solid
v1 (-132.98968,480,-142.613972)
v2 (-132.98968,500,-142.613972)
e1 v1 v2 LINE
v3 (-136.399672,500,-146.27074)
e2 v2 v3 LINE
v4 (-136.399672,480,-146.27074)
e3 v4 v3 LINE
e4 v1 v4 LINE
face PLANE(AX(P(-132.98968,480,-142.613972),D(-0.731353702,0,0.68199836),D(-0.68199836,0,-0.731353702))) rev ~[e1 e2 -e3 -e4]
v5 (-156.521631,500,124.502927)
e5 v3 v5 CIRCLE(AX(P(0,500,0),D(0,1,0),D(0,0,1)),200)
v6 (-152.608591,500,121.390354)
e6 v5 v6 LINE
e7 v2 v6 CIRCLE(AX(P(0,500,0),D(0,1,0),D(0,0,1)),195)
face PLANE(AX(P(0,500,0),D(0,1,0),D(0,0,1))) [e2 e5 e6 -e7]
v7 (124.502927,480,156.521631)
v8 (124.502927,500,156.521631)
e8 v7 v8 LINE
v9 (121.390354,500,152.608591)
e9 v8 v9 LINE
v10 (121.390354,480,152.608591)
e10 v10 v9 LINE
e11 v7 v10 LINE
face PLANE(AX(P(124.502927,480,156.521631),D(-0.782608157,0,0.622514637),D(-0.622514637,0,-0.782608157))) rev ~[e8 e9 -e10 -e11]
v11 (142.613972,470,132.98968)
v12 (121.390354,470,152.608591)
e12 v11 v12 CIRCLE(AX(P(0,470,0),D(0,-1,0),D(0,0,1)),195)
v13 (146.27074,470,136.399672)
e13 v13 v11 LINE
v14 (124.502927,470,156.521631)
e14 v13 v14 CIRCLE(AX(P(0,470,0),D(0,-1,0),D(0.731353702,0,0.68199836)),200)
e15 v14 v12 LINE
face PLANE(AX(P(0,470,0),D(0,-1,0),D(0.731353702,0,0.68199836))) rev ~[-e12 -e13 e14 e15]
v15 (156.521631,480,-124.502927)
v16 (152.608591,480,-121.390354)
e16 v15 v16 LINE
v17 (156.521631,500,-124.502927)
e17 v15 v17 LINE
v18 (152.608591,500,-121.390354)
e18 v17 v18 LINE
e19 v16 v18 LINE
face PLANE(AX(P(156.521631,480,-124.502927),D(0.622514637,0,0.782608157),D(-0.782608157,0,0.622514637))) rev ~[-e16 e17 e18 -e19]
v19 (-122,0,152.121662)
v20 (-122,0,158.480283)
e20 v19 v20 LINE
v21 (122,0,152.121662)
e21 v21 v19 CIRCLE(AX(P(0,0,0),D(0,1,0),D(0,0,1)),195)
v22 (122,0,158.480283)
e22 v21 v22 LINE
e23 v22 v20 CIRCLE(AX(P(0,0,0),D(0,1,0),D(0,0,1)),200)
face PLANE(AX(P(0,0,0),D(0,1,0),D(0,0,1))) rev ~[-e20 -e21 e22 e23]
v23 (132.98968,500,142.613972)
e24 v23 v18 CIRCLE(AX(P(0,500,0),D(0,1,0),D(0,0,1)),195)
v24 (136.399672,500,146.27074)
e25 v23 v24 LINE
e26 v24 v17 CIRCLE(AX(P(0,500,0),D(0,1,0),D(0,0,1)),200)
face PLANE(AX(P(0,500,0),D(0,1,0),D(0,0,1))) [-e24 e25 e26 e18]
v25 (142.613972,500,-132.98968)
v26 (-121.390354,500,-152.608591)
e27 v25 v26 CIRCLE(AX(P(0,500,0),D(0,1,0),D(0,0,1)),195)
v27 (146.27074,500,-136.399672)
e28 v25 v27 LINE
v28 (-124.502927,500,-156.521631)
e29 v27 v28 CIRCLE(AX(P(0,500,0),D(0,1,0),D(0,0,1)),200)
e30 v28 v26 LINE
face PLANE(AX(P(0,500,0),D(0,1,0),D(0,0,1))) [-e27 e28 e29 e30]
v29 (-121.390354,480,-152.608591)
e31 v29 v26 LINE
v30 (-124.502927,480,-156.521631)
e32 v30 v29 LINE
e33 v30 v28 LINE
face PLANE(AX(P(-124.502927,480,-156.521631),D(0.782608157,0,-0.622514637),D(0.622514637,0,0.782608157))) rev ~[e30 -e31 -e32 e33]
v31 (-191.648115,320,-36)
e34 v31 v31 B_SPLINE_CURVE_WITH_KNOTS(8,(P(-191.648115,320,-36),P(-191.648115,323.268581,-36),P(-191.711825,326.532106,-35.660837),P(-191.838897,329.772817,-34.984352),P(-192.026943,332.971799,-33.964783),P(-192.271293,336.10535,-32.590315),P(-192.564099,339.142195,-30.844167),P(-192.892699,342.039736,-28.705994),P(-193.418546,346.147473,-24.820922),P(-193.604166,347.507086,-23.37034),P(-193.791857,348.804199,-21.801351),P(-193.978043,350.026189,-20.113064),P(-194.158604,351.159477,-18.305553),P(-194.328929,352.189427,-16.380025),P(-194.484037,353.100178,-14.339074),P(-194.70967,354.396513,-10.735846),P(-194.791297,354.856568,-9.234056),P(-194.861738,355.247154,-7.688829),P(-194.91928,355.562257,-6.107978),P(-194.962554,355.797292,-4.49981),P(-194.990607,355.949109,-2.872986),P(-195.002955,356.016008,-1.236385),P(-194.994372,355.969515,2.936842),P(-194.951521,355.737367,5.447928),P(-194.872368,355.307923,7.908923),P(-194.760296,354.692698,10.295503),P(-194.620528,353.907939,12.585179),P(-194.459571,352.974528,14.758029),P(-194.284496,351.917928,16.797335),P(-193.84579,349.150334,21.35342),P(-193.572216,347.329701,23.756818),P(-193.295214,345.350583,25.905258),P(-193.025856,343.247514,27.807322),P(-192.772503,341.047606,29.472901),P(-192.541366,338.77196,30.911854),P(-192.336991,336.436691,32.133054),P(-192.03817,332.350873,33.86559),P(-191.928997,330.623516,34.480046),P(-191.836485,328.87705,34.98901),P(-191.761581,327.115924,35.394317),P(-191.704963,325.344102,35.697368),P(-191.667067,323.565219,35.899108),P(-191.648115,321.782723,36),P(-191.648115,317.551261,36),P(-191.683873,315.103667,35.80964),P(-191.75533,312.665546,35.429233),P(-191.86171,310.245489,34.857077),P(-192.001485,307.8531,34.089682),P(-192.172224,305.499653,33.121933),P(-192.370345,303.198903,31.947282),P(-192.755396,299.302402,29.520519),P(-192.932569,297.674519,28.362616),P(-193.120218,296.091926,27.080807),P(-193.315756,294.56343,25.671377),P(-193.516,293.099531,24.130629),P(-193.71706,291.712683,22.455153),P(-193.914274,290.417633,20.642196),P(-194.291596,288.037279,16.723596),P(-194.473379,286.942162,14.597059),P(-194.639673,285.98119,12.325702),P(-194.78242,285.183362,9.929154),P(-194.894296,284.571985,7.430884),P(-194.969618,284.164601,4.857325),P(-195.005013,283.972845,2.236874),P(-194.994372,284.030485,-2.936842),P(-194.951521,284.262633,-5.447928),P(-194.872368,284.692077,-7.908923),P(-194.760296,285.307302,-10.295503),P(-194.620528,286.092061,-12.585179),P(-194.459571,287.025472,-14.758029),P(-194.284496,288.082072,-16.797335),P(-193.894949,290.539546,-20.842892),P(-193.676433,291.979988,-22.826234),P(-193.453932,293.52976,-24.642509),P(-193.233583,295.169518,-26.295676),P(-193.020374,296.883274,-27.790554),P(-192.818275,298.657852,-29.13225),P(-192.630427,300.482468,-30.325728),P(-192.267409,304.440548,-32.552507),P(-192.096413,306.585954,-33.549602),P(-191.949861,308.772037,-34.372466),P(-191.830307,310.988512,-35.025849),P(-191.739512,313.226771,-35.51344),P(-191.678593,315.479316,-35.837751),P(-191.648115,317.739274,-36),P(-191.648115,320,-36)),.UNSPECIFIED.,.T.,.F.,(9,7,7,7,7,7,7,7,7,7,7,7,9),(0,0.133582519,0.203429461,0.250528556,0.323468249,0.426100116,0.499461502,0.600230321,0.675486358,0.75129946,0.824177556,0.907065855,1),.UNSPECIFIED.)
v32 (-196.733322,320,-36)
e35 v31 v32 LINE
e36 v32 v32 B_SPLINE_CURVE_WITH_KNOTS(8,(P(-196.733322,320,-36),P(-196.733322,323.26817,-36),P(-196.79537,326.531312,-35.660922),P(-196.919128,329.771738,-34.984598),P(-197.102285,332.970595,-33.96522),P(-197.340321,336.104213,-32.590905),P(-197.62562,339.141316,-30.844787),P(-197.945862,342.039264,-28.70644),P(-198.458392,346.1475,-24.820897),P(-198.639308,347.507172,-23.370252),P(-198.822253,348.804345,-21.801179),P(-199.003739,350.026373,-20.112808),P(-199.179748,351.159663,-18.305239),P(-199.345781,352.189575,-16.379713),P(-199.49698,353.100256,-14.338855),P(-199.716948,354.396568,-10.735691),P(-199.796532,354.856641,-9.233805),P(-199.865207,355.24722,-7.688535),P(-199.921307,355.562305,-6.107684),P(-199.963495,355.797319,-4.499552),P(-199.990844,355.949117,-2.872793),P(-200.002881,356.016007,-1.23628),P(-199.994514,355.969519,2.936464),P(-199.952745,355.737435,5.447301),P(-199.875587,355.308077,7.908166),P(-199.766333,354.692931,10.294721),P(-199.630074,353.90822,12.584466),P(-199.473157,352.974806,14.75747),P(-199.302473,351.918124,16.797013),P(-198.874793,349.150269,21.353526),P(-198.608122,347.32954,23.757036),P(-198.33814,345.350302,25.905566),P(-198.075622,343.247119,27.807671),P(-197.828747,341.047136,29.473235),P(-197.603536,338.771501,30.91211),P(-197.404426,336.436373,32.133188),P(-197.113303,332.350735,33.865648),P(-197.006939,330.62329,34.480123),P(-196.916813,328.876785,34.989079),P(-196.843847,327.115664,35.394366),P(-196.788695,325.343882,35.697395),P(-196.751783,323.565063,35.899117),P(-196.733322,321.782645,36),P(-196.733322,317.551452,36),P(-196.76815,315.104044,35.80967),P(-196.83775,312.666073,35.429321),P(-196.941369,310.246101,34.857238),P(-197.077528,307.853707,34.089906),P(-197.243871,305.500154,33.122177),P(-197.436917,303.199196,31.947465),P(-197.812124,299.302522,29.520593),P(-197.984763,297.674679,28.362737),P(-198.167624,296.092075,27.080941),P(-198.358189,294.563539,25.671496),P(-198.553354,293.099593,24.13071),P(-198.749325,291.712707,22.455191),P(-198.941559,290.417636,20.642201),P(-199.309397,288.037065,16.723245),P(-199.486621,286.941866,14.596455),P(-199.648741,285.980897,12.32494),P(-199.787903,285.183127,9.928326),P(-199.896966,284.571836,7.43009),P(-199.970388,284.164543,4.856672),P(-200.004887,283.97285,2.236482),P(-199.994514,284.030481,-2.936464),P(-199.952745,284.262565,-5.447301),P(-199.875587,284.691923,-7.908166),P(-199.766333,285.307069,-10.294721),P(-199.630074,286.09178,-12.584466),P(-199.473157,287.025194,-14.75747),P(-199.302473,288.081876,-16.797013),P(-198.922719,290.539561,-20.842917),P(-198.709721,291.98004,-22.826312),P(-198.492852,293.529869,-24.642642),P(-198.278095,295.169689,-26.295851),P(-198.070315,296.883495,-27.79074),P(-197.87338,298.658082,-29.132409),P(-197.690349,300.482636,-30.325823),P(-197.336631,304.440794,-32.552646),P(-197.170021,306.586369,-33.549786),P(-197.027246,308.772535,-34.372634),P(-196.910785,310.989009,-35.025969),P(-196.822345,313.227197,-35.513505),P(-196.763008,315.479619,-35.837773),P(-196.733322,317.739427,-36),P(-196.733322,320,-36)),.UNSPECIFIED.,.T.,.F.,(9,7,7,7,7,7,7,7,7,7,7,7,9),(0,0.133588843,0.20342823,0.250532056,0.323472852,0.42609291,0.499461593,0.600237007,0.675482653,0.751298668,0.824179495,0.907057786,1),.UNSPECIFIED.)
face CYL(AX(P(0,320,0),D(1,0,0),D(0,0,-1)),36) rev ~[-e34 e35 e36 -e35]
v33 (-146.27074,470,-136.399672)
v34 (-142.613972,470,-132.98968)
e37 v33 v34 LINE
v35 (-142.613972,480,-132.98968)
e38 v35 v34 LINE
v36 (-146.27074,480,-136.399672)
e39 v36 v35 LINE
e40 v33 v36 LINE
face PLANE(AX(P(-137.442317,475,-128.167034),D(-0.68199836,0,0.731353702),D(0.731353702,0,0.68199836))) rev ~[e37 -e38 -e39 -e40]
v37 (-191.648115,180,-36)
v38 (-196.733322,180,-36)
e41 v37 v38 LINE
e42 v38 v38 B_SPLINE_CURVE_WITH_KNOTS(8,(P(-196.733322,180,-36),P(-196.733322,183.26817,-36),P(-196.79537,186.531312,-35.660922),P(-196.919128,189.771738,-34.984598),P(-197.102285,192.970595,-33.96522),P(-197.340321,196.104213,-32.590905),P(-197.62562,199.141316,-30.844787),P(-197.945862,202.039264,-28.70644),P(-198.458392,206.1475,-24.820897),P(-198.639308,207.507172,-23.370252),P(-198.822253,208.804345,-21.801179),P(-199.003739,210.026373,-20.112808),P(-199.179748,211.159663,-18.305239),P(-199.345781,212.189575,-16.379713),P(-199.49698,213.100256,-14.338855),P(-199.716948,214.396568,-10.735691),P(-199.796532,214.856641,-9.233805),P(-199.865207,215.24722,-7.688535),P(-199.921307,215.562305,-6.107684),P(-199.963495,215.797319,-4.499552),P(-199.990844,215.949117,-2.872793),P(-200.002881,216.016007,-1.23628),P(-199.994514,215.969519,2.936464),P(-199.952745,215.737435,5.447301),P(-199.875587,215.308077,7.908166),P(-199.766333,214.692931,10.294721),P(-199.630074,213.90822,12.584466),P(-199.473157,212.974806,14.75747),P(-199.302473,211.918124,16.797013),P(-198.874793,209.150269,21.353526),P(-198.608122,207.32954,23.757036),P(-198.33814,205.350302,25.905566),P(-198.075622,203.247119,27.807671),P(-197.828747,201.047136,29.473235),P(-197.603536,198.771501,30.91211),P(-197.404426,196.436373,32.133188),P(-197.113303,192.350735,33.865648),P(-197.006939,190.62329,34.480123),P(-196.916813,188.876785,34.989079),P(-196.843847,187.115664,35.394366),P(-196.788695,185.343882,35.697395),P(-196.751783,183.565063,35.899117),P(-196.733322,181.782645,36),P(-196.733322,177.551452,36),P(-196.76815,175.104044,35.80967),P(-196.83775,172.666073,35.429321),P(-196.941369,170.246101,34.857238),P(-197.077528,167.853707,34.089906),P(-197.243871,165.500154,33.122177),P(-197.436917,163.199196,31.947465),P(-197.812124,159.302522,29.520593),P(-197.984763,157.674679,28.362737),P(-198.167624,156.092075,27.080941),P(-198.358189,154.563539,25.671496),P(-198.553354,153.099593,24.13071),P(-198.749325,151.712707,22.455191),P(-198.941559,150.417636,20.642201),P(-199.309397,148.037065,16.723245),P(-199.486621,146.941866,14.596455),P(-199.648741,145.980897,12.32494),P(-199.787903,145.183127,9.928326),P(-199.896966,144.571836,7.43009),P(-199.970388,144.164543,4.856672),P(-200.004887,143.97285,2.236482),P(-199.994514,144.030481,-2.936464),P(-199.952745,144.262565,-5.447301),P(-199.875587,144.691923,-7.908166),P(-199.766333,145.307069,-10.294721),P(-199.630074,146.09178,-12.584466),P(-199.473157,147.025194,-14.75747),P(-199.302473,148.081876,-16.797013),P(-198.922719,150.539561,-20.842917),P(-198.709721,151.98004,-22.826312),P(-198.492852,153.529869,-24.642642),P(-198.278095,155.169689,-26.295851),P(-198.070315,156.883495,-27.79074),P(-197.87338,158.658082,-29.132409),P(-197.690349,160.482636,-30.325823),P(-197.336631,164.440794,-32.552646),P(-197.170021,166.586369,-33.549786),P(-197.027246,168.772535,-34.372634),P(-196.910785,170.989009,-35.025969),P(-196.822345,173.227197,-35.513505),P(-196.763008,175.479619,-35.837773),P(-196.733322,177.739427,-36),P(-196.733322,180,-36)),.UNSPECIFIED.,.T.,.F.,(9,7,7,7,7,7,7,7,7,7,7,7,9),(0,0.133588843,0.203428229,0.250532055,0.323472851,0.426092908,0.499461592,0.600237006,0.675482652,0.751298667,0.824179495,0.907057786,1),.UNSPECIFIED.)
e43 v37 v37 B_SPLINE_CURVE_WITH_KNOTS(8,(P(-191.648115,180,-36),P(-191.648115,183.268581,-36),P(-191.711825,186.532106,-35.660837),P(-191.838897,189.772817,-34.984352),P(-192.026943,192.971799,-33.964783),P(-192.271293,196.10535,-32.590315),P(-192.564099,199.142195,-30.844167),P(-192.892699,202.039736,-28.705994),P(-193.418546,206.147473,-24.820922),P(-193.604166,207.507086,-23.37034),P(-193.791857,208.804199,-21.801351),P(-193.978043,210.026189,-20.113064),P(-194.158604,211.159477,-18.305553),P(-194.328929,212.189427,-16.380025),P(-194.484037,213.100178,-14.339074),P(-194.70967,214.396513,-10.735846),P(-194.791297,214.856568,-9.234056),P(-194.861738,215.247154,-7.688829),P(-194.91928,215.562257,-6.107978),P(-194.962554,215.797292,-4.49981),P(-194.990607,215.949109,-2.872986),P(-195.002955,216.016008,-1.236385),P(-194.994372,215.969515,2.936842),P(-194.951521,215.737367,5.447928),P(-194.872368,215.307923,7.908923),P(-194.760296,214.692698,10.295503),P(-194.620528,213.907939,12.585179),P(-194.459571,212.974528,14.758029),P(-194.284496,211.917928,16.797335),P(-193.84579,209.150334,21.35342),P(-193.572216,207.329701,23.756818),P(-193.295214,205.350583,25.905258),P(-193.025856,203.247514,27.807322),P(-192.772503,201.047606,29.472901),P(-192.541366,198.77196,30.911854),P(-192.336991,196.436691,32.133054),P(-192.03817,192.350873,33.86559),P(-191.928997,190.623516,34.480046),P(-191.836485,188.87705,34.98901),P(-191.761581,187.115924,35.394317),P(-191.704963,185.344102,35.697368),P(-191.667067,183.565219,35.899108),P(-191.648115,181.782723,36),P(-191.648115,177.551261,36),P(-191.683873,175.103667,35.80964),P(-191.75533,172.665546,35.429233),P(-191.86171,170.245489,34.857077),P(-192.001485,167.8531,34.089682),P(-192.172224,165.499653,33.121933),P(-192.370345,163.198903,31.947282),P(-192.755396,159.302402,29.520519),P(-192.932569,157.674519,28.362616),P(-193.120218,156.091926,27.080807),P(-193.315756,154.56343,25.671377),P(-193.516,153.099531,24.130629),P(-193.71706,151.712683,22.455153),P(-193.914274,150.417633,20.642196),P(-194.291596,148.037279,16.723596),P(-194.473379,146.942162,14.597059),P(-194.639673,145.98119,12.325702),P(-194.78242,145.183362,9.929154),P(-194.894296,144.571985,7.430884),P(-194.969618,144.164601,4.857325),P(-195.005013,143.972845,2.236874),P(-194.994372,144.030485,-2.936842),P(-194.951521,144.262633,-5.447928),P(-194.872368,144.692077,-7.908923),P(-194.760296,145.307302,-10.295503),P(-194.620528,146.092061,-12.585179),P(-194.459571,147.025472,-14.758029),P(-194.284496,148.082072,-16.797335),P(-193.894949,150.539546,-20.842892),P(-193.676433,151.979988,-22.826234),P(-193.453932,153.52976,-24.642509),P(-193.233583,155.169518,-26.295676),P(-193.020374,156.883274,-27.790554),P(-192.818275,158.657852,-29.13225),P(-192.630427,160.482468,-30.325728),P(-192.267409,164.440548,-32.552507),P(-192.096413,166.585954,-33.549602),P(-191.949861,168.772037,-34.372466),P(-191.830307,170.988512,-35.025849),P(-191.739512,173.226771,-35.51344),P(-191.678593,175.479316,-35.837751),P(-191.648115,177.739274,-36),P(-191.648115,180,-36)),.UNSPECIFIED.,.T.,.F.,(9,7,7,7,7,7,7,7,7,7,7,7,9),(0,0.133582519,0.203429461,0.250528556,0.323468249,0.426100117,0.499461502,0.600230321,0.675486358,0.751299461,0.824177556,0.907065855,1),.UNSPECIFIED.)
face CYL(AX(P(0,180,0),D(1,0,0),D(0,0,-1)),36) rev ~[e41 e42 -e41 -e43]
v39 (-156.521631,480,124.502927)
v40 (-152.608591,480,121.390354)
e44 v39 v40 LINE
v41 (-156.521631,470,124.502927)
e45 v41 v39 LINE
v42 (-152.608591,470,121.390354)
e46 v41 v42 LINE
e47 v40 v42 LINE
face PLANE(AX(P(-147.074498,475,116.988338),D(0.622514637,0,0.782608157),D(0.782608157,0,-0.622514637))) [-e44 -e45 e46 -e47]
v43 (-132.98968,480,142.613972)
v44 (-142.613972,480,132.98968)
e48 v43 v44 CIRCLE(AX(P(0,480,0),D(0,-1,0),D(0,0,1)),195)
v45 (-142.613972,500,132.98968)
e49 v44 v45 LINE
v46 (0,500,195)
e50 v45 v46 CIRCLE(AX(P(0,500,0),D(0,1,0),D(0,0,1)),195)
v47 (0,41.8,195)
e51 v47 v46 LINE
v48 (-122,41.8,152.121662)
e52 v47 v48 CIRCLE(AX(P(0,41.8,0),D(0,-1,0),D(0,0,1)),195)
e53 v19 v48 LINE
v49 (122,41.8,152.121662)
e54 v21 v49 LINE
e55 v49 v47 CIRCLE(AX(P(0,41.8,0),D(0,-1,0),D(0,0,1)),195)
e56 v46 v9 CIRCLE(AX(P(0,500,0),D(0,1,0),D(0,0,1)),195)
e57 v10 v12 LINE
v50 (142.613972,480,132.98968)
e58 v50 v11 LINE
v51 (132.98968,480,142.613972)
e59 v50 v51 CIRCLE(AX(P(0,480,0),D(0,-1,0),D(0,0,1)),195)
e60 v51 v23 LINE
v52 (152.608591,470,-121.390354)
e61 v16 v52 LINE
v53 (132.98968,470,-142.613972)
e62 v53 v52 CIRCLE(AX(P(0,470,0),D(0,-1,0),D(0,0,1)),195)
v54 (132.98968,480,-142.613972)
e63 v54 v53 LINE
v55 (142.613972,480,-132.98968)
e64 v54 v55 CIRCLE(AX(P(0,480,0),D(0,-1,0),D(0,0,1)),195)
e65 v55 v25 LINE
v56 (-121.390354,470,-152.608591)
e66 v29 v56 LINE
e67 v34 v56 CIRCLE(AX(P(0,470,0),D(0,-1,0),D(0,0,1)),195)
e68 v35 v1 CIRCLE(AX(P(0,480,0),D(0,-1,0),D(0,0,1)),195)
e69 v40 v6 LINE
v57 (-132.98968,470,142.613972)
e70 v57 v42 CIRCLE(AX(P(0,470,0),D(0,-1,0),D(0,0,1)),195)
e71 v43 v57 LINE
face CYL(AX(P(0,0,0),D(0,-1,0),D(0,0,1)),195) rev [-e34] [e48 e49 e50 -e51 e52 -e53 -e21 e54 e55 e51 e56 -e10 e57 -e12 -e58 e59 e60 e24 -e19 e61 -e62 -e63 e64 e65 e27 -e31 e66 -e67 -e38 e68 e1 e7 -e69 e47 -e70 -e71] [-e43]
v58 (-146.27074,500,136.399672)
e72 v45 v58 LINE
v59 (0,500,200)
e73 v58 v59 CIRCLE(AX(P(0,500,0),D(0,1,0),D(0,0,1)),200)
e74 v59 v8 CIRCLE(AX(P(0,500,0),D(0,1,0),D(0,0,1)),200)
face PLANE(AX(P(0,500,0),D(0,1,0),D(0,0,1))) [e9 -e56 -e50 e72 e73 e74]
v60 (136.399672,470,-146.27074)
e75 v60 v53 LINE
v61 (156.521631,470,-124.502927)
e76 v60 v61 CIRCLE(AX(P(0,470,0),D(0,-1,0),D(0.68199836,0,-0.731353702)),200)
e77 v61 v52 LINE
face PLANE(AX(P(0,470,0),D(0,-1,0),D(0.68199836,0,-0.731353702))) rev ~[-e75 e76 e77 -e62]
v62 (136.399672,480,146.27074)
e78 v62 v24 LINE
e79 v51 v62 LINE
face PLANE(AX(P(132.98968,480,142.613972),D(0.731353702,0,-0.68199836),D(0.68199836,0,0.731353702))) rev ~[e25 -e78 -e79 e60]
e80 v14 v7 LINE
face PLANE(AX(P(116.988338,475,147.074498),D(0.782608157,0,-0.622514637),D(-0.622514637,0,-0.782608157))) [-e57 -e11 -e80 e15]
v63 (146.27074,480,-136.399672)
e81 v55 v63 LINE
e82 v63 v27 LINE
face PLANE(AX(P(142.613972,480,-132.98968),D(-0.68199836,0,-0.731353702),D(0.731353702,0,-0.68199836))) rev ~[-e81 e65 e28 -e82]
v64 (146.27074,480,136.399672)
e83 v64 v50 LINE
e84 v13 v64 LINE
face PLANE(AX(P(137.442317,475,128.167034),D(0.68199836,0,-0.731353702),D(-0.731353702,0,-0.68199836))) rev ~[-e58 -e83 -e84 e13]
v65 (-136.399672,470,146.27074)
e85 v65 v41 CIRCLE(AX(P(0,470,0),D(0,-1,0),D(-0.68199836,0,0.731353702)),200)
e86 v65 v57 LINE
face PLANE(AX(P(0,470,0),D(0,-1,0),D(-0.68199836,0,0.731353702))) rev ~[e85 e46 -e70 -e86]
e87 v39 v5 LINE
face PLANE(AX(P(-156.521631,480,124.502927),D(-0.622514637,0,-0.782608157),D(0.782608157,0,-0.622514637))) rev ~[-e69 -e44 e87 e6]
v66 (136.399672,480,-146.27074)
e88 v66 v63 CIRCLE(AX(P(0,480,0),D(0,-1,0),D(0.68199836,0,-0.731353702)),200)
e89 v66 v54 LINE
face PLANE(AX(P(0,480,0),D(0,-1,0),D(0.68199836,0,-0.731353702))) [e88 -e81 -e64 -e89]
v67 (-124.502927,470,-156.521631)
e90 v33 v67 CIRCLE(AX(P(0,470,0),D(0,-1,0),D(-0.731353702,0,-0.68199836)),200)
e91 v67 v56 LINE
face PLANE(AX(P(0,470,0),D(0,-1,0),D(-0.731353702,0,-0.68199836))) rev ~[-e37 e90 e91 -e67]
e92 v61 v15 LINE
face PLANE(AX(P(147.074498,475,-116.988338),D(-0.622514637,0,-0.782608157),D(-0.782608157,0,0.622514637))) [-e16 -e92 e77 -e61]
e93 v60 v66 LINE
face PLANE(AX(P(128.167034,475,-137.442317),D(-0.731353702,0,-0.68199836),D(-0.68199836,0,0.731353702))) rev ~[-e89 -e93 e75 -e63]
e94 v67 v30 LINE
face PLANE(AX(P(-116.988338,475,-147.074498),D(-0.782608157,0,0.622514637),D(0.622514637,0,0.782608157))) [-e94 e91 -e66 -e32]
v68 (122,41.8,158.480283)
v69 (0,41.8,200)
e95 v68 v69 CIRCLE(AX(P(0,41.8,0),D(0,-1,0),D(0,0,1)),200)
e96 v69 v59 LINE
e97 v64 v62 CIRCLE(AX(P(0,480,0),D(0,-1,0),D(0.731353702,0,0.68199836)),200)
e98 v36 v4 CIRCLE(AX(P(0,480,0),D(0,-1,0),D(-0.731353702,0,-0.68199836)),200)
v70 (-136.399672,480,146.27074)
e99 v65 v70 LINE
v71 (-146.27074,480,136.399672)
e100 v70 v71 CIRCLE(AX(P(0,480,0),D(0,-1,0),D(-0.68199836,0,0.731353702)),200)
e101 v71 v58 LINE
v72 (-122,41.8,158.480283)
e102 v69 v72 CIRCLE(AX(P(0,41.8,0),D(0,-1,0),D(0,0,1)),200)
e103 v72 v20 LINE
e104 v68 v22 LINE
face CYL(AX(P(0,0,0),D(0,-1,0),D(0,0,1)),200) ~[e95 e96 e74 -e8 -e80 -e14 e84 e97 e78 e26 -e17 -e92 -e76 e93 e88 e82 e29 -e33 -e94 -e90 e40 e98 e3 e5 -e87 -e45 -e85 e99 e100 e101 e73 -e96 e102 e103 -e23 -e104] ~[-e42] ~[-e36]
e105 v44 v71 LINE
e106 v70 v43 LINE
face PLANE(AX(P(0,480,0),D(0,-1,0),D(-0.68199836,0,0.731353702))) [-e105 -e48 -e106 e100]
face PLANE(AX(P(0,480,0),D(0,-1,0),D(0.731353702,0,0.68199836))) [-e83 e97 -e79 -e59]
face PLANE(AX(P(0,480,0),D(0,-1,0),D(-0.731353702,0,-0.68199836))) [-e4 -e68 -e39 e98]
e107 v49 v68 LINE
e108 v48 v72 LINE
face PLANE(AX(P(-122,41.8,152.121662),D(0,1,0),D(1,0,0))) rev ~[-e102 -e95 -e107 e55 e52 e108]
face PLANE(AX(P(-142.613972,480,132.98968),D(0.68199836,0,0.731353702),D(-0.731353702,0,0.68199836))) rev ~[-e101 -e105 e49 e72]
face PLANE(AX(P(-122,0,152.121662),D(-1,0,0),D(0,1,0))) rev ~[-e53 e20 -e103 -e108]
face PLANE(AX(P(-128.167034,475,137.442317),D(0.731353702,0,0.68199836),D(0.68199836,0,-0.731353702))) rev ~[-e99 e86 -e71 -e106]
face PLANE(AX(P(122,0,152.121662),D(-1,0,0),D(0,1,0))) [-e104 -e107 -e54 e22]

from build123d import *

# Parameters (mm, degrees)
SKETCH_1_R                  = 200
SKETCH_1_R_2                = 195
EXTRUDE_339_DEPTH           = 500
CUT_EXTRUDE_START           = -127.878338
SKETCH_8_W                  = 244
SKETCH_8_H                  = 41.8
CUT_EXTRUDE_600_DEPTH       = 47.878338
SKETCH_9_R                  = 36
CUT_EXTRUDE_1494_DEPTH      = 575.456264654
CUT_EXTRUDE_1675_REACH      = 576.456
CUT_EXTRUDE_1675_END_RADIUS = 200
SKETCH_10_R                 = 36
SKETCH_14_W                 = 24.14269203
SKETCH_14_H                 = 10
CUT_REVOLVE_1_ANGLE         = 8.5
CUT_EXTRUDE_1_REACH         = 559.136
PATTERN_CIRCULAR_1_COUNT    = 4


with BuildPart() as part:
    # 草图1 → Extrude 339 (new body)
    with BuildSketch(Plane(origin=(0, 0, 0), x_dir=(1, 0, 0), z_dir=(0, 1, 0))):
        with Locations(Location((0, 0, 0), (0, 0, 270))):
            Circle(SKETCH_1_R)
        with Locations(Location((0, 0, 0), (0, 0, 270))):
            Circle(SKETCH_1_R_2, mode=Mode.SUBTRACT)
    extrude(amount=EXTRUDE_339_DEPTH)

    # 草图8 → Cut-Extrude 600 (cut)
    with BuildSketch(Plane.XY.offset(280).offset(CUT_EXTRUDE_START)):
        with Locations((0, 20.9)):
            Rectangle(SKETCH_8_W, SKETCH_8_H)
    extrude(amount=CUT_EXTRUDE_600_DEPTH, mode=Mode.SUBTRACT)

    # 草图9 → Cut-Extrude 1494 (cut, through all)
    with BuildSketch(Plane(origin=(0, 0, 0), x_dir=(0, 0, -1), z_dir=(1, 0, 0))):
        with Locations((0, 180)):
            Circle(SKETCH_9_R)
    extrude(amount=-CUT_EXTRUDE_1494_DEPTH, mode=Mode.SUBTRACT)

    # Cut-Extrude 1675: up to this cylinder (the profile starts inside it)
    cut_extrude_1675_end = Plane(origin=(0, 320, 0), z_dir=(0, -1, 0)) * Cylinder(CUT_EXTRUDE_1675_END_RADIUS, 1553.912, mode=Mode.PRIVATE)
    # 草图10 → Cut-Extrude 1675 (cut, up to the surface)
    with BuildSketch(Plane(origin=(0, 0, 0), x_dir=(0, 0, -1), z_dir=(1, 0, 0)), mode=Mode.PRIVATE) as cut_extrude_1675_sk1:
        with Locations((0, 320)):
            Circle(SKETCH_10_R)
    cut_extrude_1675_tool1 = extrude(cut_extrude_1675_sk1.sketch, amount=-CUT_EXTRUDE_1675_REACH, mode=Mode.PRIVATE) & cut_extrude_1675_end
    add(cut_extrude_1675_tool1.solids().sort_by_distance((0, 320, 0))[0], mode=Mode.SUBTRACT)

    # 草图14 → 切除-旋转1 (revolve, cut)
    with BuildSketch(Plane(origin=(0, 0, 0), x_dir=(0.7313537016191752, 0, 0.6819983600624934), z_dir=(-0.6819983600624934, 0, 0.7313537016191752))):
        with Locations((-187.928653985, 475)):
            Rectangle(SKETCH_14_W, SKETCH_14_H)
    cut_revolve_1 = revolve(axis=Axis((0, -25.014655285, 0), (0, -1, 0)), revolution_arc=CUT_REVOLVE_1_ANGLE, mode=Mode.SUBTRACT)

    # 草图16 → 切除-拉伸1 (cut, up to next)
    with BuildSketch(Plane.XZ.offset(-480), mode=Mode.PRIVATE) as cut_extrude_1_sk1:
        with BuildLine():
            Line((-124.502927328, -156.52163137), (-121.390354144, -152.608590586))
            ThreePointArc((-121.390354144, -152.608590586), (-127.28815173, -147.725171955), (-132.989680212, -142.613971816))
            Line((-132.989680212, -142.613971816), (-136.399672013, -146.270740324))
            ThreePointArc((-136.399672013, -146.270740324), (-130.551950493, -151.512996877), (-124.502927328, -156.52163137))
        make_face()
    cut_extrude_1_tool1 = extrude(cut_extrude_1_sk1.sketch, amount=-CUT_EXTRUDE_1_REACH, mode=Mode.PRIVATE) & part.part
    cut_extrude_1 = cut_extrude_1_tool1.solids().sort_by_distance((-128.893802, 480, -149.588621))[0]
    add(cut_extrude_1, mode=Mode.SUBTRACT)

    # 阵列(圆周)1: 切除-旋转1, 切除-拉伸1 ×4 about axis
    pattern_circular_1_axis = Axis((0, -25.014655285, 0), (0, 1, 0))
    add([cut_revolve_1.rotate(pattern_circular_1_axis, i * 360 / PATTERN_CIRCULAR_1_COUNT) for i in range(1, PATTERN_CIRCULAR_1_COUNT)], mode=Mode.SUBTRACT)
    add([cut_extrude_1.rotate(pattern_circular_1_axis, i * 360 / PATTERN_CIRCULAR_1_COUNT) for i in range(1, PATTERN_CIRCULAR_1_COUNT)], mode=Mode.SUBTRACT)


solid = part.part
